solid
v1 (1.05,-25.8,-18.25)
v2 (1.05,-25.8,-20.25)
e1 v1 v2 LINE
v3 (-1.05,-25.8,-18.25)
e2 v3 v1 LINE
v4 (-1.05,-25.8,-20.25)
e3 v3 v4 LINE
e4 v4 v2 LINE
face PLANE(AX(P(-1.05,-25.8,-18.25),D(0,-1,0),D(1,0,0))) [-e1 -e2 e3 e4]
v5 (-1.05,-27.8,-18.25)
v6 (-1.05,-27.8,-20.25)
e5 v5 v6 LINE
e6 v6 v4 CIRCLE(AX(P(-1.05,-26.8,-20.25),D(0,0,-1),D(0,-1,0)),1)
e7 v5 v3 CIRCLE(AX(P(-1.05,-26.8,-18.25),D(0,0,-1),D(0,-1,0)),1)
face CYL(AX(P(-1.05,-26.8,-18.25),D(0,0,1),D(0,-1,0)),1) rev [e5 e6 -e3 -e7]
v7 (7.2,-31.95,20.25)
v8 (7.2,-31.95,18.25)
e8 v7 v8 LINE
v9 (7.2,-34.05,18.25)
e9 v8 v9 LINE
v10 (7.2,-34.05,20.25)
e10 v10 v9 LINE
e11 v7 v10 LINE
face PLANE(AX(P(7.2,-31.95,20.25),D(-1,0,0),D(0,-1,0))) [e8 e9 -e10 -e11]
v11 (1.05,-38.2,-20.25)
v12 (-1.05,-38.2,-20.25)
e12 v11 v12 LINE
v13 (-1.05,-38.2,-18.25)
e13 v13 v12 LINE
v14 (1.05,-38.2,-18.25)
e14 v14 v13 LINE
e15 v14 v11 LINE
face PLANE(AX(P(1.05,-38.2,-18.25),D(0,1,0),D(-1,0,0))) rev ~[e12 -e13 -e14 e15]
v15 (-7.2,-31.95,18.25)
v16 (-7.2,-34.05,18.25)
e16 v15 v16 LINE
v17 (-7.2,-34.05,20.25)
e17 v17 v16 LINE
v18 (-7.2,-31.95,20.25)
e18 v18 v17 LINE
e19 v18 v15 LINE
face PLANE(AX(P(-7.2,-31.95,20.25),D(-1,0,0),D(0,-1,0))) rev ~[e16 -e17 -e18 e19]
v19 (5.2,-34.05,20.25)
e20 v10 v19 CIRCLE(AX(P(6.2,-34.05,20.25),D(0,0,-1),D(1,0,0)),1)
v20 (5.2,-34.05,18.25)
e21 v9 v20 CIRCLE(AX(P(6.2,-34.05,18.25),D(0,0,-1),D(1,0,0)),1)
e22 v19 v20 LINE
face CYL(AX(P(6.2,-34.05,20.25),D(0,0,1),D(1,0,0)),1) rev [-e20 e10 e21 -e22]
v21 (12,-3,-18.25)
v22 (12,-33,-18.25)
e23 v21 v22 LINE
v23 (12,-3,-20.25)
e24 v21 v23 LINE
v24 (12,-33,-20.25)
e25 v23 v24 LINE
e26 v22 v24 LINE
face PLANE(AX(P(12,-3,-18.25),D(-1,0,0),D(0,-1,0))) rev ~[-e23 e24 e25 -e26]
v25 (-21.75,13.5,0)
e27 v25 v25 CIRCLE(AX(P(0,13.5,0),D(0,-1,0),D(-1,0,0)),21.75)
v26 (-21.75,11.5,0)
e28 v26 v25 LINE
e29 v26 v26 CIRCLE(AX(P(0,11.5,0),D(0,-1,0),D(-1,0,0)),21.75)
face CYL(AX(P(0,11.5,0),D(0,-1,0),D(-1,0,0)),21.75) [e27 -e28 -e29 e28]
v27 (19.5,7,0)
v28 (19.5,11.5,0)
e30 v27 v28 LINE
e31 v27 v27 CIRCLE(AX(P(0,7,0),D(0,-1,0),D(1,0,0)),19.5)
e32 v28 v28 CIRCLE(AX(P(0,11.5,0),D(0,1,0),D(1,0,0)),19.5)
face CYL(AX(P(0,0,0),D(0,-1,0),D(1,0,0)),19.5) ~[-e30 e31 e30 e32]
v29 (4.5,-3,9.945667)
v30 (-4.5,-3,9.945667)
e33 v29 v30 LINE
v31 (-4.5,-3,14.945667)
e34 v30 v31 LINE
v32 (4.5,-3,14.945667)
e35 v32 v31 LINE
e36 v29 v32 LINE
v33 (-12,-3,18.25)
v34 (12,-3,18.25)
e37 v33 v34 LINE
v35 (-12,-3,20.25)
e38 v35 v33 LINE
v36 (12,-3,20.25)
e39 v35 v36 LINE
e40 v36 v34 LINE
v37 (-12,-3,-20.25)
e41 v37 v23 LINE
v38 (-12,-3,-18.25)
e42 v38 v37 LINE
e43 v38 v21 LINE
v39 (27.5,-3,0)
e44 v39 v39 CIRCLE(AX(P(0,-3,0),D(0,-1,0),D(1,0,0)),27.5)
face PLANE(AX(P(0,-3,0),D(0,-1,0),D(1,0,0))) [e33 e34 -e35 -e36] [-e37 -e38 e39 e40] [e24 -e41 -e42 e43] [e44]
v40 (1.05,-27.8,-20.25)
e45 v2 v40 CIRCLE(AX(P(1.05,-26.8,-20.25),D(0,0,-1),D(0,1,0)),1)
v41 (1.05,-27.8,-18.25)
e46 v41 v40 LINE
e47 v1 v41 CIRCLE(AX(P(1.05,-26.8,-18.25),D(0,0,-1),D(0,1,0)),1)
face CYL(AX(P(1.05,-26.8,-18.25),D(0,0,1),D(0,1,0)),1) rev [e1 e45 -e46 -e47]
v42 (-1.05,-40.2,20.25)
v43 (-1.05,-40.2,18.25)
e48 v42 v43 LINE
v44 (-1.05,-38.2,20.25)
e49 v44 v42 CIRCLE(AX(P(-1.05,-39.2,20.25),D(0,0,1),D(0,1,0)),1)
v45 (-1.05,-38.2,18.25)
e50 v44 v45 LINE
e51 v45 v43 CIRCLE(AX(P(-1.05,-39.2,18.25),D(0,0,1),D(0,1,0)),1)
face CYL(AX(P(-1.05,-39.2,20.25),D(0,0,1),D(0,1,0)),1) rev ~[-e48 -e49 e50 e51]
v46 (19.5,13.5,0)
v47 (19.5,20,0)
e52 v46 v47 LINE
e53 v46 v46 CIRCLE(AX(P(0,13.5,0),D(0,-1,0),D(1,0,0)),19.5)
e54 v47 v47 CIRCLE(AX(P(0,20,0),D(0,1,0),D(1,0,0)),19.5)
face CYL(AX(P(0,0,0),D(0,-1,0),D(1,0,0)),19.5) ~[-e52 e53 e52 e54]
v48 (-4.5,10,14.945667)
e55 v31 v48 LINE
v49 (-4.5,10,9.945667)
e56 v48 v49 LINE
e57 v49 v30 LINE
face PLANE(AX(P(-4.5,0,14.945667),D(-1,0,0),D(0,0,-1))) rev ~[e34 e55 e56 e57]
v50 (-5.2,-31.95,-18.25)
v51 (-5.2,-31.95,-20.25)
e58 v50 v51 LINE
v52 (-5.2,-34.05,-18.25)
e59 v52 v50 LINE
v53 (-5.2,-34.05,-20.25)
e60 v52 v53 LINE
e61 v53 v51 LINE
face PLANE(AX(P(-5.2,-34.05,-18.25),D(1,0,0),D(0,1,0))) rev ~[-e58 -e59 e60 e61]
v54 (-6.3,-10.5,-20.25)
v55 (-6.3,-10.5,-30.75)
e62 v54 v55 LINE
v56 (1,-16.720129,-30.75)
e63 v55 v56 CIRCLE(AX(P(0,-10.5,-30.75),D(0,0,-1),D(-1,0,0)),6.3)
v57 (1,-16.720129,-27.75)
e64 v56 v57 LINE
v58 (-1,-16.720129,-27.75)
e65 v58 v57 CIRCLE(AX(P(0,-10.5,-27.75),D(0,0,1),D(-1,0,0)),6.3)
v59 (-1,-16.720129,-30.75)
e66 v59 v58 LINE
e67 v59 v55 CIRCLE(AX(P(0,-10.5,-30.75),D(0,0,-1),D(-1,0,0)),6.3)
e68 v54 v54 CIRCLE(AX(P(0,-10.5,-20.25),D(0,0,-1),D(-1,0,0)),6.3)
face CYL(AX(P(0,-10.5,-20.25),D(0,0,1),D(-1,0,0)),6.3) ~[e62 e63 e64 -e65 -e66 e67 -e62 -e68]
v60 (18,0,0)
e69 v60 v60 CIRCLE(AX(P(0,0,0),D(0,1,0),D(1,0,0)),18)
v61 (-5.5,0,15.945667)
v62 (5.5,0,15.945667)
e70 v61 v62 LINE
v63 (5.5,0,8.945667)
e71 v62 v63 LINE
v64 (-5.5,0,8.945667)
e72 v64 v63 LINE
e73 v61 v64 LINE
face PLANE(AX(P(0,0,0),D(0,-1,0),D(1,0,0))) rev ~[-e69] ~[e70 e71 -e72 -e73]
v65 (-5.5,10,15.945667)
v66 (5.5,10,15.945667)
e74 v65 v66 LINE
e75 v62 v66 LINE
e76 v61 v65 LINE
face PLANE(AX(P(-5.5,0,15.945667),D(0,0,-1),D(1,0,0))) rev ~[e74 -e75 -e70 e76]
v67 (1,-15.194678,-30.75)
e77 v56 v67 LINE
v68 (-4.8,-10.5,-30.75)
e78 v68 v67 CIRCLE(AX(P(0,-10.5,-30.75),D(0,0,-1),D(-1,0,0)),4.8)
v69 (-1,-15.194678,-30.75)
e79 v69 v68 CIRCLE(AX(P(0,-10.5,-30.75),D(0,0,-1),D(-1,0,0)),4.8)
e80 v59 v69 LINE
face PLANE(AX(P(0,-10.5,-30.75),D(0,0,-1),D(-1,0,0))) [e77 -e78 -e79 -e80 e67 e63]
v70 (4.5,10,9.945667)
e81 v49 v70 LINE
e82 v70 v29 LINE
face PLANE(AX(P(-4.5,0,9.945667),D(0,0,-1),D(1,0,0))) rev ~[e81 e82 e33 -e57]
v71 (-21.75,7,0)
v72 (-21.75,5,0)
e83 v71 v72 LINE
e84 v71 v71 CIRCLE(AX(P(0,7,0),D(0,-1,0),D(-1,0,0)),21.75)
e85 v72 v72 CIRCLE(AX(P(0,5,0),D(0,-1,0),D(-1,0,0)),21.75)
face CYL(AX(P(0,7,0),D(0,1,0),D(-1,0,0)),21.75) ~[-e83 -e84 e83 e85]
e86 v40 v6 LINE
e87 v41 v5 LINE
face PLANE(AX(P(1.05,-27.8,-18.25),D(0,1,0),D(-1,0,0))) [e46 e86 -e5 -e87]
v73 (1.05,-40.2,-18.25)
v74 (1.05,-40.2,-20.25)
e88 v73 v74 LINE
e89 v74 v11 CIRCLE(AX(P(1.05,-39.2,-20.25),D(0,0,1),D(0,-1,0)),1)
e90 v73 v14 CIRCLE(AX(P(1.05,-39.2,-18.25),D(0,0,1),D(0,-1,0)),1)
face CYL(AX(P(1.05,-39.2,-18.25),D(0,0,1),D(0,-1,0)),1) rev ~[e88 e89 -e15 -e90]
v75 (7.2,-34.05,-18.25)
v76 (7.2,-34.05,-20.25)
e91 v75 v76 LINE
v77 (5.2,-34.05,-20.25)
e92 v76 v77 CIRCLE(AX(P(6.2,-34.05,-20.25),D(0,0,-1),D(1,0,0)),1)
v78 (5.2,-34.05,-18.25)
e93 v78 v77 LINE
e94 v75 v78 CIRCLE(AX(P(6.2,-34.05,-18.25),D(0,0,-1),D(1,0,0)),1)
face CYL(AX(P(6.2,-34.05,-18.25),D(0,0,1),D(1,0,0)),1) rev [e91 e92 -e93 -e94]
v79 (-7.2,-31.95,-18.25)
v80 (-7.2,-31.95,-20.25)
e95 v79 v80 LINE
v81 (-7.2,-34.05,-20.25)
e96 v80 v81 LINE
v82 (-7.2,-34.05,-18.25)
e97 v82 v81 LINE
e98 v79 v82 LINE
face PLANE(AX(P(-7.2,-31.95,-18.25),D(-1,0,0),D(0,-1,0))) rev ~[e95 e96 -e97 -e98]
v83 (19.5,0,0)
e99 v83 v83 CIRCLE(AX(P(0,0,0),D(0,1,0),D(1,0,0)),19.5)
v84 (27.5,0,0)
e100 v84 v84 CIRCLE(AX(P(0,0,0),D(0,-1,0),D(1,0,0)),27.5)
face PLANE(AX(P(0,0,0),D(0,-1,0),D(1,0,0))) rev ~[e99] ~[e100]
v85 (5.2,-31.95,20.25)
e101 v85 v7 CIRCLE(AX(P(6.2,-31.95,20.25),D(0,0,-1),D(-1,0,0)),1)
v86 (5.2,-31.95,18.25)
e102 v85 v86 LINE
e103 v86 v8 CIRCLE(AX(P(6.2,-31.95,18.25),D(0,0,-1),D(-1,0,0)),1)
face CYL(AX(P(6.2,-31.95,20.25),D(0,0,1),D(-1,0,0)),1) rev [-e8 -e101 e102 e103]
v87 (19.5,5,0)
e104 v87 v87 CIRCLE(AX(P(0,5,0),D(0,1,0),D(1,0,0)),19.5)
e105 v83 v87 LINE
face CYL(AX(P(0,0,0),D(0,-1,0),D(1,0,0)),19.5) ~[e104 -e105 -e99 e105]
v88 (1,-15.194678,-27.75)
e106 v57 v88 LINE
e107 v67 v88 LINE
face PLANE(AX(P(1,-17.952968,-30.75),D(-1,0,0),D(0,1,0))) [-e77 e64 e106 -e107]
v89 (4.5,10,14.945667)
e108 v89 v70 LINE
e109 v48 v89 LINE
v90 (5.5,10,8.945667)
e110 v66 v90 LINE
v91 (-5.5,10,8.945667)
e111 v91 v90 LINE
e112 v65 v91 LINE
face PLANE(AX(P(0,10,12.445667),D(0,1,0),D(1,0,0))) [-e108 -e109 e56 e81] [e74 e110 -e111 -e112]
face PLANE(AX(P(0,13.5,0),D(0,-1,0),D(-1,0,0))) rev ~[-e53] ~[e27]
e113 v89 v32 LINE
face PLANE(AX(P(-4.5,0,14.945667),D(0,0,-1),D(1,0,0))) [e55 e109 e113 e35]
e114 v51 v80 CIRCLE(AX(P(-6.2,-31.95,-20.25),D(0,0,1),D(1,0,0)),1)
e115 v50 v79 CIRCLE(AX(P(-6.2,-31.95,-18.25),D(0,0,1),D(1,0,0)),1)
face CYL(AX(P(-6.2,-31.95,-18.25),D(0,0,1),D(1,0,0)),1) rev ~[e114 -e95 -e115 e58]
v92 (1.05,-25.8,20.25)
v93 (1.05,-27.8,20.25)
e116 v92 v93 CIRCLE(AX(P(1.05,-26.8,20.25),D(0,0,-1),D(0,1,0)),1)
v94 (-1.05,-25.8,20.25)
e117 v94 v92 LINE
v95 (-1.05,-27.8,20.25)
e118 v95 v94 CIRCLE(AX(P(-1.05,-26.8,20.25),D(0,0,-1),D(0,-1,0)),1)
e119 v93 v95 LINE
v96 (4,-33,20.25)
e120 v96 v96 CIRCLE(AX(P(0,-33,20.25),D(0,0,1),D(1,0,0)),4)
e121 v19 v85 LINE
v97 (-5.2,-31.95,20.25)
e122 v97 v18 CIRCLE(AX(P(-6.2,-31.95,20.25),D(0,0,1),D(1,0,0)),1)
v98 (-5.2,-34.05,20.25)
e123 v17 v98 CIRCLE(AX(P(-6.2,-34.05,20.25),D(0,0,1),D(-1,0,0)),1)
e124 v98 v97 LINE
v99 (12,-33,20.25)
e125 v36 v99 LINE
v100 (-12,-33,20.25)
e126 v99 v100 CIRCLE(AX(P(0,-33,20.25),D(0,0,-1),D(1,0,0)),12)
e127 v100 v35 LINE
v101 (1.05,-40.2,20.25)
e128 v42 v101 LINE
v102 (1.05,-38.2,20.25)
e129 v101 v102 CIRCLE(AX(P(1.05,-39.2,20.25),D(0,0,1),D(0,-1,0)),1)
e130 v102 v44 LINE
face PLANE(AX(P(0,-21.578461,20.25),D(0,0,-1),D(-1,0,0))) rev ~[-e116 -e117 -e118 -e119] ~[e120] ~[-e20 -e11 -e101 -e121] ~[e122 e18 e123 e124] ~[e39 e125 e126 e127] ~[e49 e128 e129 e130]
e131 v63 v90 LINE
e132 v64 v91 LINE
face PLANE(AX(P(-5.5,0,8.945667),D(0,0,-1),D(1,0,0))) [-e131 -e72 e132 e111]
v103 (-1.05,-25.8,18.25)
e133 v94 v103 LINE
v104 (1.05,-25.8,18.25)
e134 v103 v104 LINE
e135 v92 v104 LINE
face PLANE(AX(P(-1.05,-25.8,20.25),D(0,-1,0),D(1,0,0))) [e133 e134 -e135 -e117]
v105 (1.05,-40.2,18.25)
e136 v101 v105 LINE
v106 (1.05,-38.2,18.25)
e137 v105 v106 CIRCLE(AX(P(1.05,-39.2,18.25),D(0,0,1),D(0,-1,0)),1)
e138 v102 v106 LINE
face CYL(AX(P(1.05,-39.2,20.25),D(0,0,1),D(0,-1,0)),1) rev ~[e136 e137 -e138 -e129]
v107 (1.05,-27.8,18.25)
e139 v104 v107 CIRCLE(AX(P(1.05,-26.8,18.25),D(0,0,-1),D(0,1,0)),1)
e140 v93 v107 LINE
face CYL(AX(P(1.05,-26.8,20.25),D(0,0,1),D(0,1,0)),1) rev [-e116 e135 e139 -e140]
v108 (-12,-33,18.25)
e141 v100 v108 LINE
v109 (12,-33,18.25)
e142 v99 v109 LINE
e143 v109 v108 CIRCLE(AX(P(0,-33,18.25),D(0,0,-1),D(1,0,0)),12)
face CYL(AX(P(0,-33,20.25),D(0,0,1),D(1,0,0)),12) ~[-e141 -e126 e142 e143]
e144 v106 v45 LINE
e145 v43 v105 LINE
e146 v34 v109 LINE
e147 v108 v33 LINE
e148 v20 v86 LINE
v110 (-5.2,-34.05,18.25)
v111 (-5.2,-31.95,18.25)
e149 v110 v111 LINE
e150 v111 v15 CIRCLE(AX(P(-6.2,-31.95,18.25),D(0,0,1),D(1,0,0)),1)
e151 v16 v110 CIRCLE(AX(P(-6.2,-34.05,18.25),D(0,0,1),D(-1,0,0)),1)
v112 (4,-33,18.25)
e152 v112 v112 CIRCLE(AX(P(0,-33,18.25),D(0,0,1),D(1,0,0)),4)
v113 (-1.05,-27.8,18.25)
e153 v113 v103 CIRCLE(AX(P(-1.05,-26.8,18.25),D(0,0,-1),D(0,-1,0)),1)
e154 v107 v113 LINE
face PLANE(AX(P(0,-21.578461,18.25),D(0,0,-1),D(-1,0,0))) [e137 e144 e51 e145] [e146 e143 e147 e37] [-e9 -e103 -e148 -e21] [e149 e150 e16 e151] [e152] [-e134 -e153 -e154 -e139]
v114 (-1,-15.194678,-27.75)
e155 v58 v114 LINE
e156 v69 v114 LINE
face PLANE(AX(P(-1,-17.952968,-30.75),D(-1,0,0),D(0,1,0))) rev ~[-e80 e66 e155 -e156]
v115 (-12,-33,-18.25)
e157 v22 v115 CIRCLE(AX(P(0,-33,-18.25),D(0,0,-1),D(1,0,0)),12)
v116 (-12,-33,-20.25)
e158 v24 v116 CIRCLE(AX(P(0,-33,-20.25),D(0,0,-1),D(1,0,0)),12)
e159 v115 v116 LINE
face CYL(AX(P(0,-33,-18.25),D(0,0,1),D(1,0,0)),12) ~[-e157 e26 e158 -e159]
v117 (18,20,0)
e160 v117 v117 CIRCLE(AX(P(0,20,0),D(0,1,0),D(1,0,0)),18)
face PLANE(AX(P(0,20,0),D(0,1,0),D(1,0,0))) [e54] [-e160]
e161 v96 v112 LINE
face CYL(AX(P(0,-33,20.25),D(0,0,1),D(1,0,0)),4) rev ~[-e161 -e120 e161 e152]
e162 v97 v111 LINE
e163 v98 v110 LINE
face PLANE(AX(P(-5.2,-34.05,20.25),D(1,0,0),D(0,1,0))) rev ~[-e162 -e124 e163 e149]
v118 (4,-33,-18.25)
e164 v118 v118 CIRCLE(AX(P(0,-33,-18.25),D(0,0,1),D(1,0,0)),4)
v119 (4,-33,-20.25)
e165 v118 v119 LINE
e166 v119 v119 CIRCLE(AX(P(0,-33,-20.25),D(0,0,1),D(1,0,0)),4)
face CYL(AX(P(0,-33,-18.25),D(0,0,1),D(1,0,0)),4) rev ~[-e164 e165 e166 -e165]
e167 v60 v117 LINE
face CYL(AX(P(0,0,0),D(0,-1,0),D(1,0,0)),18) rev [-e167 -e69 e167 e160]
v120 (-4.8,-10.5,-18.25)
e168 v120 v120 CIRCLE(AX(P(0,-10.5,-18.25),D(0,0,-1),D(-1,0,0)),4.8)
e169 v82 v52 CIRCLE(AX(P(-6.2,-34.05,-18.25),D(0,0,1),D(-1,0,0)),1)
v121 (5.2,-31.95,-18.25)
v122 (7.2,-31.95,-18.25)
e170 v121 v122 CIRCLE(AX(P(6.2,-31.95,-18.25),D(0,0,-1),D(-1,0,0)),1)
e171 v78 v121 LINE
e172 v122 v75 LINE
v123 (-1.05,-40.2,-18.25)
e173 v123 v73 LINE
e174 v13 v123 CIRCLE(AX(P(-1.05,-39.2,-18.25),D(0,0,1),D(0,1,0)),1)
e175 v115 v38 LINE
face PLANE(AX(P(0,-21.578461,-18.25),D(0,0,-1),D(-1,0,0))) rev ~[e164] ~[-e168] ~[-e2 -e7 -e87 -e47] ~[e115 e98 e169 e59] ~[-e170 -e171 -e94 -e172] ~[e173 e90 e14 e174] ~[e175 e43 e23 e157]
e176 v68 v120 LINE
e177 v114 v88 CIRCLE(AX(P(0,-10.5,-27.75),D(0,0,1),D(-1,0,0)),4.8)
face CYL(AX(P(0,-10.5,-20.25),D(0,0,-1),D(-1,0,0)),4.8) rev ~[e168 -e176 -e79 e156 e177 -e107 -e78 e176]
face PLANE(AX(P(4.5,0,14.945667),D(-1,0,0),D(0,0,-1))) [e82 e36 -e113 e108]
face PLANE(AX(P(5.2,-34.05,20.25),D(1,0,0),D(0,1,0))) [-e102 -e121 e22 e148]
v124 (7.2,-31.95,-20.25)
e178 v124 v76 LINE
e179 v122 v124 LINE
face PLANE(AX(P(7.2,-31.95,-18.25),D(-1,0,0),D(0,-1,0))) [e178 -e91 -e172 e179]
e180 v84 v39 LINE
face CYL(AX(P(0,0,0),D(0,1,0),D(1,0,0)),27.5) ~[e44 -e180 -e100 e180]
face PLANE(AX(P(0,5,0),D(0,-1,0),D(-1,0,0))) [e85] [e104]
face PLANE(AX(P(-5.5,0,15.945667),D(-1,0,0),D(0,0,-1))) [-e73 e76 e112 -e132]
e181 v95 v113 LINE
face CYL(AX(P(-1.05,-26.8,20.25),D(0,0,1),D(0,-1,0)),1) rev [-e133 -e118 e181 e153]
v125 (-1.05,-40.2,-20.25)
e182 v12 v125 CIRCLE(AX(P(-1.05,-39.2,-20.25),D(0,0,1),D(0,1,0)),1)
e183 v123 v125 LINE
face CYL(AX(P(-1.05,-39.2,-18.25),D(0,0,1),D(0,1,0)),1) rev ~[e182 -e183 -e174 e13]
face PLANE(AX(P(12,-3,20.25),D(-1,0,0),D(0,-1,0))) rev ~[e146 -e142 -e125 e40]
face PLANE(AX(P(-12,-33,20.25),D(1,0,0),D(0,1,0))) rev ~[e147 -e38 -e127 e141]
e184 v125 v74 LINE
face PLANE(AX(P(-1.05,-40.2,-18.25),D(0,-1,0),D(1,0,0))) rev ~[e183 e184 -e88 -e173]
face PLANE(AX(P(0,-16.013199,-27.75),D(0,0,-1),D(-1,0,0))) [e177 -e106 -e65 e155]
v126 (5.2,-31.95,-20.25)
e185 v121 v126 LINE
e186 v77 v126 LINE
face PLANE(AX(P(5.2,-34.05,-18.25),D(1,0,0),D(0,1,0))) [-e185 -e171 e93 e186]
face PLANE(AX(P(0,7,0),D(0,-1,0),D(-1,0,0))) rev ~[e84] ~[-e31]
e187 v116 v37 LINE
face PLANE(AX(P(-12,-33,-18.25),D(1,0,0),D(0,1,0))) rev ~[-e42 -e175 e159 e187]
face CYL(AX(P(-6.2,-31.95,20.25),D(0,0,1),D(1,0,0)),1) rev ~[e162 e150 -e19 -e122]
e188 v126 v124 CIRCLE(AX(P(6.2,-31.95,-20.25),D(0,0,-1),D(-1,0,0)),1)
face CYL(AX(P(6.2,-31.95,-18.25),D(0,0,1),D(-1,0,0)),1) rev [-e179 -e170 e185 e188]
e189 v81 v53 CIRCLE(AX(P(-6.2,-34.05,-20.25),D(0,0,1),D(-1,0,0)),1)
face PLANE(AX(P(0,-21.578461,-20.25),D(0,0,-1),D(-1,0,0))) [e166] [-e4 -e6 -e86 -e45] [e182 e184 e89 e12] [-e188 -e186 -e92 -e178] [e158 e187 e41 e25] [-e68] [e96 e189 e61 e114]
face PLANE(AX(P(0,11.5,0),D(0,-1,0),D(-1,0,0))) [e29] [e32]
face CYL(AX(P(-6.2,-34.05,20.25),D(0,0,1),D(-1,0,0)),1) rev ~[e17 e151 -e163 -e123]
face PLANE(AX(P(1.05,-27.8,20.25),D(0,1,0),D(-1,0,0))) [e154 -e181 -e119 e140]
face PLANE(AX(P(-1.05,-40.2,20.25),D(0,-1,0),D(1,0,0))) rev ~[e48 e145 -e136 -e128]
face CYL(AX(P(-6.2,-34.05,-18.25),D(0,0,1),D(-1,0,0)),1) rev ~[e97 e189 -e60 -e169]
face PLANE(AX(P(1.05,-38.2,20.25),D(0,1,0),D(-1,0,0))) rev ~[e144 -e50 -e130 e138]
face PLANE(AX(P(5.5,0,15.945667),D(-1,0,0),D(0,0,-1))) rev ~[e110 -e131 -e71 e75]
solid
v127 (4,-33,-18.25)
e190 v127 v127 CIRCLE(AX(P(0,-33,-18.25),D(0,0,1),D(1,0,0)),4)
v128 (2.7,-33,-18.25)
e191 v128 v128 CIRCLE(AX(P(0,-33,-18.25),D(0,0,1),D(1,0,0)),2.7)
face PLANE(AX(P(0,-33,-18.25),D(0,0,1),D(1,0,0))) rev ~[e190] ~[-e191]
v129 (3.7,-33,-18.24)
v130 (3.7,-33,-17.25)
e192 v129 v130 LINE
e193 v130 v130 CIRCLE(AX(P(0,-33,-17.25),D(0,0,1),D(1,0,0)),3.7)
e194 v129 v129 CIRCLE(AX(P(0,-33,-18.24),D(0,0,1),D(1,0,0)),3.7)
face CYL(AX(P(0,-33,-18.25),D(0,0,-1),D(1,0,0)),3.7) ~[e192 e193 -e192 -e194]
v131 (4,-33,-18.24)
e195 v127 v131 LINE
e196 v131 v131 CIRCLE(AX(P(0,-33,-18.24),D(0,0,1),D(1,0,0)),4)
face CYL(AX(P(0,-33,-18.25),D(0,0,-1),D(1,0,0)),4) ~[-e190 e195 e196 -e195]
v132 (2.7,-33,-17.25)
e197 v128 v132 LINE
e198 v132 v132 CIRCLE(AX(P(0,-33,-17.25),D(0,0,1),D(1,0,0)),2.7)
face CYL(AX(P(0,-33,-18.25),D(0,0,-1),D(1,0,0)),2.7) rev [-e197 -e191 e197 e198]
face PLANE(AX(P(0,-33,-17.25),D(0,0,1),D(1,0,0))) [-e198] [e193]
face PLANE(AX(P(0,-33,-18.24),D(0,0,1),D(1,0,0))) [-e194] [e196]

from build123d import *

# Parameters (mm, degrees)
SKETCH_1_R               = 19.5
SKETCH_1_R_2             = 18
EXTRUDE_1_DEPTH          = 20
SKETCH_3_R               = 27.5
EXTRUDE_2_DEPTH          = 3
SKETCH_25_R              = 21.75
SKETCH_25_R_2            = 19.5
EXTRUDE_12_DEPTH         = 2
EXTRUDE_START            = -1
SKETCH_26_R              = 21.75
SKETCH_26_R_2            = 19.5
EXTRUDE_13_DEPTH         = 2
SKETCH_28_R              = 4
EXTRUDE_14_DEPTH         = 2
PATTERN_LINEAR_1_COUNT   = 2
PATTERN_LINEAR_1_PITCH   = 38.5
SKETCH_30_W              = 11
SKETCH_30_H              = 7
EXTRUDE_16_DEPTH         = 10
SKETCH_29_W              = 9
SKETCH_29_H              = 5
CUT_EXTRUDE_2_DEPTH      = 10
CUT_EXTRUDE_2_DEPTH_BACK = 10
SKETCH_31_R              = 3.7
SKETCH_31_R_2            = 2.7
EXTRUDE_17_DEPTH         = 1
SKETCH_32_R              = 4
SKETCH_32_R_2            = 3.7
EXTRUDE_18_DEPTH         = 0.01
SKETCH_33_R              = 6.3
SKETCH_33_R_2            = 4.8
EXTRUDE_19_DEPTH         = 10.5
SKETCH_35_R              = 4.8
CUT_EXTRUDE_3_DEPTH      = 8
SKETCH_36_W              = 2
SKETCH_36_H              = 3.879537943
CUT_EXTRUDE_4_DEPTH      = 3


with BuildPart() as part:
    # 草圖1 → 填料-伸長1 (new body)
    with BuildSketch(Plane(origin=(0, 0, 0), x_dir=(1, 0, 0), z_dir=(0, 1, 0))):
        Circle(SKETCH_1_R)
        Circle(SKETCH_1_R_2, mode=Mode.SUBTRACT)
    extrude(amount=EXTRUDE_1_DEPTH)

    # 草圖3 → 填料-伸長2 (add)
    with BuildSketch(Plane.XZ):
        Circle(SKETCH_3_R)
    extrude(amount=EXTRUDE_2_DEPTH)

    # 草圖25 → 填料-伸長12 (add)
    with BuildSketch(Plane(origin=(0, 7, 0), x_dir=(-1, 0, 0), z_dir=(0, -1, 0))):
        Circle(SKETCH_25_R)
        Circle(SKETCH_25_R_2, mode=Mode.SUBTRACT)
    extrude(amount=EXTRUDE_12_DEPTH)

    # 草圖26 → 填料-伸長13 (add)
    with BuildSketch(Plane(origin=(0, 10.5, 0), x_dir=(-1, 0, 0), z_dir=(0, -1, 0)).offset(EXTRUDE_START)):
        Circle(SKETCH_26_R)
        Circle(SKETCH_26_R_2, mode=Mode.SUBTRACT)
    extrude(amount=-EXTRUDE_13_DEPTH)

    # 草圖28 → 填料-伸長14 (add)
    with BuildSketch(Plane.XY.offset(-18.25)):
        with BuildLine():
            Line((-12, -3), (12, -3))
            Line((12, -3), (12, -33))
            ThreePointArc((12, -33), (0, -45), (-12, -33))
            Line((-12, -33), (-12, -3))
        make_face()
        with Locations((0, -33)):
            Circle(SKETCH_28_R, mode=Mode.SUBTRACT)
        with BuildLine():
            Line((-1.05, -25.8), (1.05, -25.8))
            ThreePointArc((1.05, -25.8), (2.05, -26.8), (1.05, -27.8))
            Line((1.05, -27.8), (-1.05, -27.8))
            ThreePointArc((-1.05, -27.8), (-2.05, -26.8), (-1.05, -25.8))
        make_face(mode=Mode.SUBTRACT)
        with BuildLine():
            Line((7.2, -31.95), (7.2, -34.05))
            ThreePointArc((7.2, -34.05), (6.2, -35.05), (5.2, -34.05))
            Line((5.2, -34.05), (5.2, -31.95))
            ThreePointArc((5.2, -31.95), (6.2, -30.95), (7.2, -31.95))
        make_face(mode=Mode.SUBTRACT)
        with BuildLine():
            Line((-1.05, -40.2), (1.05, -40.2))
            ThreePointArc((1.05, -40.2), (2.05, -39.2), (1.05, -38.2))
            Line((1.05, -38.2), (-1.05, -38.2))
            ThreePointArc((-1.05, -38.2), (-2.05, -39.2), (-1.05, -40.2))
        make_face(mode=Mode.SUBTRACT)
        with BuildLine():
            Line((-7.2, -31.95), (-7.2, -34.05))
            ThreePointArc((-7.2, -34.05), (-6.2, -35.05), (-5.2, -34.05))
            Line((-5.2, -34.05), (-5.2, -31.95))
            ThreePointArc((-5.2, -31.95), (-6.2, -30.95), (-7.2, -31.95))
        make_face(mode=Mode.SUBTRACT)
    extrude_14 = extrude(amount=-EXTRUDE_14_DEPTH)

    # 直線複製排列1: 填料-伸長14 ×2
    with Locations(*[(0, 0, i * PATTERN_LINEAR_1_PITCH) for i in range(1, PATTERN_LINEAR_1_COUNT)]):
        add(extrude_14)

    # 草圖30 → 填料-伸長16 (add)
    with BuildSketch(Plane(origin=(0, 0, 0), x_dir=(1, 0, 0), z_dir=(0, 1, 0))):
        with Locations((0, -12.44566721)):
            Rectangle(SKETCH_30_W, SKETCH_30_H)
    extrude(amount=EXTRUDE_16_DEPTH)

    # 草圖29 → 除料-伸長2 (cut, two sides)
    with BuildSketch(Plane(origin=(0, 0, 0), x_dir=(1, 0, 0), z_dir=(0, 1, 0))) as cut_extrude_2_sk:
        with Locations((0, -12.44566721)):
            Rectangle(SKETCH_29_W, SKETCH_29_H)
    extrude(amount=CUT_EXTRUDE_2_DEPTH, mode=Mode.SUBTRACT)
    extrude(cut_extrude_2_sk.sketch, amount=-CUT_EXTRUDE_2_DEPTH_BACK, mode=Mode.SUBTRACT)

    # 草圖33 → 填料-伸長19 (add)
    with BuildSketch(Plane(origin=(0, 0, -20.25), x_dir=(-1, 0, 0), z_dir=(0, 0, -1))):
        with Locations((0, -10.5)):
            Circle(SKETCH_33_R)
        with Locations((0, -10.5)):
            Circle(SKETCH_33_R_2, mode=Mode.SUBTRACT)
    extrude(amount=EXTRUDE_19_DEPTH)

    # 草圖35 → 除料-伸長3 (cut)
    with BuildSketch(Plane(origin=(0, 0, -20.25), x_dir=(-1, 0, 0), z_dir=(0, 0, -1))):
        with Locations((0, -10.5)):
            Circle(SKETCH_35_R)
    extrude(amount=-CUT_EXTRUDE_3_DEPTH, mode=Mode.SUBTRACT)

    # 草圖36 → 除料-伸長4 (cut)
    with BuildSketch(Plane(origin=(0, 0, -30.75), x_dir=(-1, 0, 0), z_dir=(0, 0, -1))):
        with Locations((0, -16.013198695)):
            Rectangle(SKETCH_36_W, SKETCH_36_H)
    extrude(amount=-CUT_EXTRUDE_4_DEPTH, mode=Mode.SUBTRACT)


with BuildPart() as body_2:
    # 草圖31 → 填料-伸長17 (new body)
    with BuildSketch(Plane.XY.offset(-18.25)):
        with Locations((0, -33)):
            Circle(SKETCH_31_R)
        with Locations((0, -33)):
            Circle(SKETCH_31_R_2, mode=Mode.SUBTRACT)
    extrude(amount=EXTRUDE_17_DEPTH)

    # 草圖32 → 填料-伸長18 (add)
    with BuildSketch(Plane.XY.offset(-18.25)):
        with Locations((0, -33)):
            Circle(SKETCH_32_R)
        with Locations((0, -33)):
            Circle(SKETCH_32_R_2, mode=Mode.SUBTRACT)
    extrude(amount=EXTRUDE_18_DEPTH)


solid = Compound([part.part, body_2.part])
